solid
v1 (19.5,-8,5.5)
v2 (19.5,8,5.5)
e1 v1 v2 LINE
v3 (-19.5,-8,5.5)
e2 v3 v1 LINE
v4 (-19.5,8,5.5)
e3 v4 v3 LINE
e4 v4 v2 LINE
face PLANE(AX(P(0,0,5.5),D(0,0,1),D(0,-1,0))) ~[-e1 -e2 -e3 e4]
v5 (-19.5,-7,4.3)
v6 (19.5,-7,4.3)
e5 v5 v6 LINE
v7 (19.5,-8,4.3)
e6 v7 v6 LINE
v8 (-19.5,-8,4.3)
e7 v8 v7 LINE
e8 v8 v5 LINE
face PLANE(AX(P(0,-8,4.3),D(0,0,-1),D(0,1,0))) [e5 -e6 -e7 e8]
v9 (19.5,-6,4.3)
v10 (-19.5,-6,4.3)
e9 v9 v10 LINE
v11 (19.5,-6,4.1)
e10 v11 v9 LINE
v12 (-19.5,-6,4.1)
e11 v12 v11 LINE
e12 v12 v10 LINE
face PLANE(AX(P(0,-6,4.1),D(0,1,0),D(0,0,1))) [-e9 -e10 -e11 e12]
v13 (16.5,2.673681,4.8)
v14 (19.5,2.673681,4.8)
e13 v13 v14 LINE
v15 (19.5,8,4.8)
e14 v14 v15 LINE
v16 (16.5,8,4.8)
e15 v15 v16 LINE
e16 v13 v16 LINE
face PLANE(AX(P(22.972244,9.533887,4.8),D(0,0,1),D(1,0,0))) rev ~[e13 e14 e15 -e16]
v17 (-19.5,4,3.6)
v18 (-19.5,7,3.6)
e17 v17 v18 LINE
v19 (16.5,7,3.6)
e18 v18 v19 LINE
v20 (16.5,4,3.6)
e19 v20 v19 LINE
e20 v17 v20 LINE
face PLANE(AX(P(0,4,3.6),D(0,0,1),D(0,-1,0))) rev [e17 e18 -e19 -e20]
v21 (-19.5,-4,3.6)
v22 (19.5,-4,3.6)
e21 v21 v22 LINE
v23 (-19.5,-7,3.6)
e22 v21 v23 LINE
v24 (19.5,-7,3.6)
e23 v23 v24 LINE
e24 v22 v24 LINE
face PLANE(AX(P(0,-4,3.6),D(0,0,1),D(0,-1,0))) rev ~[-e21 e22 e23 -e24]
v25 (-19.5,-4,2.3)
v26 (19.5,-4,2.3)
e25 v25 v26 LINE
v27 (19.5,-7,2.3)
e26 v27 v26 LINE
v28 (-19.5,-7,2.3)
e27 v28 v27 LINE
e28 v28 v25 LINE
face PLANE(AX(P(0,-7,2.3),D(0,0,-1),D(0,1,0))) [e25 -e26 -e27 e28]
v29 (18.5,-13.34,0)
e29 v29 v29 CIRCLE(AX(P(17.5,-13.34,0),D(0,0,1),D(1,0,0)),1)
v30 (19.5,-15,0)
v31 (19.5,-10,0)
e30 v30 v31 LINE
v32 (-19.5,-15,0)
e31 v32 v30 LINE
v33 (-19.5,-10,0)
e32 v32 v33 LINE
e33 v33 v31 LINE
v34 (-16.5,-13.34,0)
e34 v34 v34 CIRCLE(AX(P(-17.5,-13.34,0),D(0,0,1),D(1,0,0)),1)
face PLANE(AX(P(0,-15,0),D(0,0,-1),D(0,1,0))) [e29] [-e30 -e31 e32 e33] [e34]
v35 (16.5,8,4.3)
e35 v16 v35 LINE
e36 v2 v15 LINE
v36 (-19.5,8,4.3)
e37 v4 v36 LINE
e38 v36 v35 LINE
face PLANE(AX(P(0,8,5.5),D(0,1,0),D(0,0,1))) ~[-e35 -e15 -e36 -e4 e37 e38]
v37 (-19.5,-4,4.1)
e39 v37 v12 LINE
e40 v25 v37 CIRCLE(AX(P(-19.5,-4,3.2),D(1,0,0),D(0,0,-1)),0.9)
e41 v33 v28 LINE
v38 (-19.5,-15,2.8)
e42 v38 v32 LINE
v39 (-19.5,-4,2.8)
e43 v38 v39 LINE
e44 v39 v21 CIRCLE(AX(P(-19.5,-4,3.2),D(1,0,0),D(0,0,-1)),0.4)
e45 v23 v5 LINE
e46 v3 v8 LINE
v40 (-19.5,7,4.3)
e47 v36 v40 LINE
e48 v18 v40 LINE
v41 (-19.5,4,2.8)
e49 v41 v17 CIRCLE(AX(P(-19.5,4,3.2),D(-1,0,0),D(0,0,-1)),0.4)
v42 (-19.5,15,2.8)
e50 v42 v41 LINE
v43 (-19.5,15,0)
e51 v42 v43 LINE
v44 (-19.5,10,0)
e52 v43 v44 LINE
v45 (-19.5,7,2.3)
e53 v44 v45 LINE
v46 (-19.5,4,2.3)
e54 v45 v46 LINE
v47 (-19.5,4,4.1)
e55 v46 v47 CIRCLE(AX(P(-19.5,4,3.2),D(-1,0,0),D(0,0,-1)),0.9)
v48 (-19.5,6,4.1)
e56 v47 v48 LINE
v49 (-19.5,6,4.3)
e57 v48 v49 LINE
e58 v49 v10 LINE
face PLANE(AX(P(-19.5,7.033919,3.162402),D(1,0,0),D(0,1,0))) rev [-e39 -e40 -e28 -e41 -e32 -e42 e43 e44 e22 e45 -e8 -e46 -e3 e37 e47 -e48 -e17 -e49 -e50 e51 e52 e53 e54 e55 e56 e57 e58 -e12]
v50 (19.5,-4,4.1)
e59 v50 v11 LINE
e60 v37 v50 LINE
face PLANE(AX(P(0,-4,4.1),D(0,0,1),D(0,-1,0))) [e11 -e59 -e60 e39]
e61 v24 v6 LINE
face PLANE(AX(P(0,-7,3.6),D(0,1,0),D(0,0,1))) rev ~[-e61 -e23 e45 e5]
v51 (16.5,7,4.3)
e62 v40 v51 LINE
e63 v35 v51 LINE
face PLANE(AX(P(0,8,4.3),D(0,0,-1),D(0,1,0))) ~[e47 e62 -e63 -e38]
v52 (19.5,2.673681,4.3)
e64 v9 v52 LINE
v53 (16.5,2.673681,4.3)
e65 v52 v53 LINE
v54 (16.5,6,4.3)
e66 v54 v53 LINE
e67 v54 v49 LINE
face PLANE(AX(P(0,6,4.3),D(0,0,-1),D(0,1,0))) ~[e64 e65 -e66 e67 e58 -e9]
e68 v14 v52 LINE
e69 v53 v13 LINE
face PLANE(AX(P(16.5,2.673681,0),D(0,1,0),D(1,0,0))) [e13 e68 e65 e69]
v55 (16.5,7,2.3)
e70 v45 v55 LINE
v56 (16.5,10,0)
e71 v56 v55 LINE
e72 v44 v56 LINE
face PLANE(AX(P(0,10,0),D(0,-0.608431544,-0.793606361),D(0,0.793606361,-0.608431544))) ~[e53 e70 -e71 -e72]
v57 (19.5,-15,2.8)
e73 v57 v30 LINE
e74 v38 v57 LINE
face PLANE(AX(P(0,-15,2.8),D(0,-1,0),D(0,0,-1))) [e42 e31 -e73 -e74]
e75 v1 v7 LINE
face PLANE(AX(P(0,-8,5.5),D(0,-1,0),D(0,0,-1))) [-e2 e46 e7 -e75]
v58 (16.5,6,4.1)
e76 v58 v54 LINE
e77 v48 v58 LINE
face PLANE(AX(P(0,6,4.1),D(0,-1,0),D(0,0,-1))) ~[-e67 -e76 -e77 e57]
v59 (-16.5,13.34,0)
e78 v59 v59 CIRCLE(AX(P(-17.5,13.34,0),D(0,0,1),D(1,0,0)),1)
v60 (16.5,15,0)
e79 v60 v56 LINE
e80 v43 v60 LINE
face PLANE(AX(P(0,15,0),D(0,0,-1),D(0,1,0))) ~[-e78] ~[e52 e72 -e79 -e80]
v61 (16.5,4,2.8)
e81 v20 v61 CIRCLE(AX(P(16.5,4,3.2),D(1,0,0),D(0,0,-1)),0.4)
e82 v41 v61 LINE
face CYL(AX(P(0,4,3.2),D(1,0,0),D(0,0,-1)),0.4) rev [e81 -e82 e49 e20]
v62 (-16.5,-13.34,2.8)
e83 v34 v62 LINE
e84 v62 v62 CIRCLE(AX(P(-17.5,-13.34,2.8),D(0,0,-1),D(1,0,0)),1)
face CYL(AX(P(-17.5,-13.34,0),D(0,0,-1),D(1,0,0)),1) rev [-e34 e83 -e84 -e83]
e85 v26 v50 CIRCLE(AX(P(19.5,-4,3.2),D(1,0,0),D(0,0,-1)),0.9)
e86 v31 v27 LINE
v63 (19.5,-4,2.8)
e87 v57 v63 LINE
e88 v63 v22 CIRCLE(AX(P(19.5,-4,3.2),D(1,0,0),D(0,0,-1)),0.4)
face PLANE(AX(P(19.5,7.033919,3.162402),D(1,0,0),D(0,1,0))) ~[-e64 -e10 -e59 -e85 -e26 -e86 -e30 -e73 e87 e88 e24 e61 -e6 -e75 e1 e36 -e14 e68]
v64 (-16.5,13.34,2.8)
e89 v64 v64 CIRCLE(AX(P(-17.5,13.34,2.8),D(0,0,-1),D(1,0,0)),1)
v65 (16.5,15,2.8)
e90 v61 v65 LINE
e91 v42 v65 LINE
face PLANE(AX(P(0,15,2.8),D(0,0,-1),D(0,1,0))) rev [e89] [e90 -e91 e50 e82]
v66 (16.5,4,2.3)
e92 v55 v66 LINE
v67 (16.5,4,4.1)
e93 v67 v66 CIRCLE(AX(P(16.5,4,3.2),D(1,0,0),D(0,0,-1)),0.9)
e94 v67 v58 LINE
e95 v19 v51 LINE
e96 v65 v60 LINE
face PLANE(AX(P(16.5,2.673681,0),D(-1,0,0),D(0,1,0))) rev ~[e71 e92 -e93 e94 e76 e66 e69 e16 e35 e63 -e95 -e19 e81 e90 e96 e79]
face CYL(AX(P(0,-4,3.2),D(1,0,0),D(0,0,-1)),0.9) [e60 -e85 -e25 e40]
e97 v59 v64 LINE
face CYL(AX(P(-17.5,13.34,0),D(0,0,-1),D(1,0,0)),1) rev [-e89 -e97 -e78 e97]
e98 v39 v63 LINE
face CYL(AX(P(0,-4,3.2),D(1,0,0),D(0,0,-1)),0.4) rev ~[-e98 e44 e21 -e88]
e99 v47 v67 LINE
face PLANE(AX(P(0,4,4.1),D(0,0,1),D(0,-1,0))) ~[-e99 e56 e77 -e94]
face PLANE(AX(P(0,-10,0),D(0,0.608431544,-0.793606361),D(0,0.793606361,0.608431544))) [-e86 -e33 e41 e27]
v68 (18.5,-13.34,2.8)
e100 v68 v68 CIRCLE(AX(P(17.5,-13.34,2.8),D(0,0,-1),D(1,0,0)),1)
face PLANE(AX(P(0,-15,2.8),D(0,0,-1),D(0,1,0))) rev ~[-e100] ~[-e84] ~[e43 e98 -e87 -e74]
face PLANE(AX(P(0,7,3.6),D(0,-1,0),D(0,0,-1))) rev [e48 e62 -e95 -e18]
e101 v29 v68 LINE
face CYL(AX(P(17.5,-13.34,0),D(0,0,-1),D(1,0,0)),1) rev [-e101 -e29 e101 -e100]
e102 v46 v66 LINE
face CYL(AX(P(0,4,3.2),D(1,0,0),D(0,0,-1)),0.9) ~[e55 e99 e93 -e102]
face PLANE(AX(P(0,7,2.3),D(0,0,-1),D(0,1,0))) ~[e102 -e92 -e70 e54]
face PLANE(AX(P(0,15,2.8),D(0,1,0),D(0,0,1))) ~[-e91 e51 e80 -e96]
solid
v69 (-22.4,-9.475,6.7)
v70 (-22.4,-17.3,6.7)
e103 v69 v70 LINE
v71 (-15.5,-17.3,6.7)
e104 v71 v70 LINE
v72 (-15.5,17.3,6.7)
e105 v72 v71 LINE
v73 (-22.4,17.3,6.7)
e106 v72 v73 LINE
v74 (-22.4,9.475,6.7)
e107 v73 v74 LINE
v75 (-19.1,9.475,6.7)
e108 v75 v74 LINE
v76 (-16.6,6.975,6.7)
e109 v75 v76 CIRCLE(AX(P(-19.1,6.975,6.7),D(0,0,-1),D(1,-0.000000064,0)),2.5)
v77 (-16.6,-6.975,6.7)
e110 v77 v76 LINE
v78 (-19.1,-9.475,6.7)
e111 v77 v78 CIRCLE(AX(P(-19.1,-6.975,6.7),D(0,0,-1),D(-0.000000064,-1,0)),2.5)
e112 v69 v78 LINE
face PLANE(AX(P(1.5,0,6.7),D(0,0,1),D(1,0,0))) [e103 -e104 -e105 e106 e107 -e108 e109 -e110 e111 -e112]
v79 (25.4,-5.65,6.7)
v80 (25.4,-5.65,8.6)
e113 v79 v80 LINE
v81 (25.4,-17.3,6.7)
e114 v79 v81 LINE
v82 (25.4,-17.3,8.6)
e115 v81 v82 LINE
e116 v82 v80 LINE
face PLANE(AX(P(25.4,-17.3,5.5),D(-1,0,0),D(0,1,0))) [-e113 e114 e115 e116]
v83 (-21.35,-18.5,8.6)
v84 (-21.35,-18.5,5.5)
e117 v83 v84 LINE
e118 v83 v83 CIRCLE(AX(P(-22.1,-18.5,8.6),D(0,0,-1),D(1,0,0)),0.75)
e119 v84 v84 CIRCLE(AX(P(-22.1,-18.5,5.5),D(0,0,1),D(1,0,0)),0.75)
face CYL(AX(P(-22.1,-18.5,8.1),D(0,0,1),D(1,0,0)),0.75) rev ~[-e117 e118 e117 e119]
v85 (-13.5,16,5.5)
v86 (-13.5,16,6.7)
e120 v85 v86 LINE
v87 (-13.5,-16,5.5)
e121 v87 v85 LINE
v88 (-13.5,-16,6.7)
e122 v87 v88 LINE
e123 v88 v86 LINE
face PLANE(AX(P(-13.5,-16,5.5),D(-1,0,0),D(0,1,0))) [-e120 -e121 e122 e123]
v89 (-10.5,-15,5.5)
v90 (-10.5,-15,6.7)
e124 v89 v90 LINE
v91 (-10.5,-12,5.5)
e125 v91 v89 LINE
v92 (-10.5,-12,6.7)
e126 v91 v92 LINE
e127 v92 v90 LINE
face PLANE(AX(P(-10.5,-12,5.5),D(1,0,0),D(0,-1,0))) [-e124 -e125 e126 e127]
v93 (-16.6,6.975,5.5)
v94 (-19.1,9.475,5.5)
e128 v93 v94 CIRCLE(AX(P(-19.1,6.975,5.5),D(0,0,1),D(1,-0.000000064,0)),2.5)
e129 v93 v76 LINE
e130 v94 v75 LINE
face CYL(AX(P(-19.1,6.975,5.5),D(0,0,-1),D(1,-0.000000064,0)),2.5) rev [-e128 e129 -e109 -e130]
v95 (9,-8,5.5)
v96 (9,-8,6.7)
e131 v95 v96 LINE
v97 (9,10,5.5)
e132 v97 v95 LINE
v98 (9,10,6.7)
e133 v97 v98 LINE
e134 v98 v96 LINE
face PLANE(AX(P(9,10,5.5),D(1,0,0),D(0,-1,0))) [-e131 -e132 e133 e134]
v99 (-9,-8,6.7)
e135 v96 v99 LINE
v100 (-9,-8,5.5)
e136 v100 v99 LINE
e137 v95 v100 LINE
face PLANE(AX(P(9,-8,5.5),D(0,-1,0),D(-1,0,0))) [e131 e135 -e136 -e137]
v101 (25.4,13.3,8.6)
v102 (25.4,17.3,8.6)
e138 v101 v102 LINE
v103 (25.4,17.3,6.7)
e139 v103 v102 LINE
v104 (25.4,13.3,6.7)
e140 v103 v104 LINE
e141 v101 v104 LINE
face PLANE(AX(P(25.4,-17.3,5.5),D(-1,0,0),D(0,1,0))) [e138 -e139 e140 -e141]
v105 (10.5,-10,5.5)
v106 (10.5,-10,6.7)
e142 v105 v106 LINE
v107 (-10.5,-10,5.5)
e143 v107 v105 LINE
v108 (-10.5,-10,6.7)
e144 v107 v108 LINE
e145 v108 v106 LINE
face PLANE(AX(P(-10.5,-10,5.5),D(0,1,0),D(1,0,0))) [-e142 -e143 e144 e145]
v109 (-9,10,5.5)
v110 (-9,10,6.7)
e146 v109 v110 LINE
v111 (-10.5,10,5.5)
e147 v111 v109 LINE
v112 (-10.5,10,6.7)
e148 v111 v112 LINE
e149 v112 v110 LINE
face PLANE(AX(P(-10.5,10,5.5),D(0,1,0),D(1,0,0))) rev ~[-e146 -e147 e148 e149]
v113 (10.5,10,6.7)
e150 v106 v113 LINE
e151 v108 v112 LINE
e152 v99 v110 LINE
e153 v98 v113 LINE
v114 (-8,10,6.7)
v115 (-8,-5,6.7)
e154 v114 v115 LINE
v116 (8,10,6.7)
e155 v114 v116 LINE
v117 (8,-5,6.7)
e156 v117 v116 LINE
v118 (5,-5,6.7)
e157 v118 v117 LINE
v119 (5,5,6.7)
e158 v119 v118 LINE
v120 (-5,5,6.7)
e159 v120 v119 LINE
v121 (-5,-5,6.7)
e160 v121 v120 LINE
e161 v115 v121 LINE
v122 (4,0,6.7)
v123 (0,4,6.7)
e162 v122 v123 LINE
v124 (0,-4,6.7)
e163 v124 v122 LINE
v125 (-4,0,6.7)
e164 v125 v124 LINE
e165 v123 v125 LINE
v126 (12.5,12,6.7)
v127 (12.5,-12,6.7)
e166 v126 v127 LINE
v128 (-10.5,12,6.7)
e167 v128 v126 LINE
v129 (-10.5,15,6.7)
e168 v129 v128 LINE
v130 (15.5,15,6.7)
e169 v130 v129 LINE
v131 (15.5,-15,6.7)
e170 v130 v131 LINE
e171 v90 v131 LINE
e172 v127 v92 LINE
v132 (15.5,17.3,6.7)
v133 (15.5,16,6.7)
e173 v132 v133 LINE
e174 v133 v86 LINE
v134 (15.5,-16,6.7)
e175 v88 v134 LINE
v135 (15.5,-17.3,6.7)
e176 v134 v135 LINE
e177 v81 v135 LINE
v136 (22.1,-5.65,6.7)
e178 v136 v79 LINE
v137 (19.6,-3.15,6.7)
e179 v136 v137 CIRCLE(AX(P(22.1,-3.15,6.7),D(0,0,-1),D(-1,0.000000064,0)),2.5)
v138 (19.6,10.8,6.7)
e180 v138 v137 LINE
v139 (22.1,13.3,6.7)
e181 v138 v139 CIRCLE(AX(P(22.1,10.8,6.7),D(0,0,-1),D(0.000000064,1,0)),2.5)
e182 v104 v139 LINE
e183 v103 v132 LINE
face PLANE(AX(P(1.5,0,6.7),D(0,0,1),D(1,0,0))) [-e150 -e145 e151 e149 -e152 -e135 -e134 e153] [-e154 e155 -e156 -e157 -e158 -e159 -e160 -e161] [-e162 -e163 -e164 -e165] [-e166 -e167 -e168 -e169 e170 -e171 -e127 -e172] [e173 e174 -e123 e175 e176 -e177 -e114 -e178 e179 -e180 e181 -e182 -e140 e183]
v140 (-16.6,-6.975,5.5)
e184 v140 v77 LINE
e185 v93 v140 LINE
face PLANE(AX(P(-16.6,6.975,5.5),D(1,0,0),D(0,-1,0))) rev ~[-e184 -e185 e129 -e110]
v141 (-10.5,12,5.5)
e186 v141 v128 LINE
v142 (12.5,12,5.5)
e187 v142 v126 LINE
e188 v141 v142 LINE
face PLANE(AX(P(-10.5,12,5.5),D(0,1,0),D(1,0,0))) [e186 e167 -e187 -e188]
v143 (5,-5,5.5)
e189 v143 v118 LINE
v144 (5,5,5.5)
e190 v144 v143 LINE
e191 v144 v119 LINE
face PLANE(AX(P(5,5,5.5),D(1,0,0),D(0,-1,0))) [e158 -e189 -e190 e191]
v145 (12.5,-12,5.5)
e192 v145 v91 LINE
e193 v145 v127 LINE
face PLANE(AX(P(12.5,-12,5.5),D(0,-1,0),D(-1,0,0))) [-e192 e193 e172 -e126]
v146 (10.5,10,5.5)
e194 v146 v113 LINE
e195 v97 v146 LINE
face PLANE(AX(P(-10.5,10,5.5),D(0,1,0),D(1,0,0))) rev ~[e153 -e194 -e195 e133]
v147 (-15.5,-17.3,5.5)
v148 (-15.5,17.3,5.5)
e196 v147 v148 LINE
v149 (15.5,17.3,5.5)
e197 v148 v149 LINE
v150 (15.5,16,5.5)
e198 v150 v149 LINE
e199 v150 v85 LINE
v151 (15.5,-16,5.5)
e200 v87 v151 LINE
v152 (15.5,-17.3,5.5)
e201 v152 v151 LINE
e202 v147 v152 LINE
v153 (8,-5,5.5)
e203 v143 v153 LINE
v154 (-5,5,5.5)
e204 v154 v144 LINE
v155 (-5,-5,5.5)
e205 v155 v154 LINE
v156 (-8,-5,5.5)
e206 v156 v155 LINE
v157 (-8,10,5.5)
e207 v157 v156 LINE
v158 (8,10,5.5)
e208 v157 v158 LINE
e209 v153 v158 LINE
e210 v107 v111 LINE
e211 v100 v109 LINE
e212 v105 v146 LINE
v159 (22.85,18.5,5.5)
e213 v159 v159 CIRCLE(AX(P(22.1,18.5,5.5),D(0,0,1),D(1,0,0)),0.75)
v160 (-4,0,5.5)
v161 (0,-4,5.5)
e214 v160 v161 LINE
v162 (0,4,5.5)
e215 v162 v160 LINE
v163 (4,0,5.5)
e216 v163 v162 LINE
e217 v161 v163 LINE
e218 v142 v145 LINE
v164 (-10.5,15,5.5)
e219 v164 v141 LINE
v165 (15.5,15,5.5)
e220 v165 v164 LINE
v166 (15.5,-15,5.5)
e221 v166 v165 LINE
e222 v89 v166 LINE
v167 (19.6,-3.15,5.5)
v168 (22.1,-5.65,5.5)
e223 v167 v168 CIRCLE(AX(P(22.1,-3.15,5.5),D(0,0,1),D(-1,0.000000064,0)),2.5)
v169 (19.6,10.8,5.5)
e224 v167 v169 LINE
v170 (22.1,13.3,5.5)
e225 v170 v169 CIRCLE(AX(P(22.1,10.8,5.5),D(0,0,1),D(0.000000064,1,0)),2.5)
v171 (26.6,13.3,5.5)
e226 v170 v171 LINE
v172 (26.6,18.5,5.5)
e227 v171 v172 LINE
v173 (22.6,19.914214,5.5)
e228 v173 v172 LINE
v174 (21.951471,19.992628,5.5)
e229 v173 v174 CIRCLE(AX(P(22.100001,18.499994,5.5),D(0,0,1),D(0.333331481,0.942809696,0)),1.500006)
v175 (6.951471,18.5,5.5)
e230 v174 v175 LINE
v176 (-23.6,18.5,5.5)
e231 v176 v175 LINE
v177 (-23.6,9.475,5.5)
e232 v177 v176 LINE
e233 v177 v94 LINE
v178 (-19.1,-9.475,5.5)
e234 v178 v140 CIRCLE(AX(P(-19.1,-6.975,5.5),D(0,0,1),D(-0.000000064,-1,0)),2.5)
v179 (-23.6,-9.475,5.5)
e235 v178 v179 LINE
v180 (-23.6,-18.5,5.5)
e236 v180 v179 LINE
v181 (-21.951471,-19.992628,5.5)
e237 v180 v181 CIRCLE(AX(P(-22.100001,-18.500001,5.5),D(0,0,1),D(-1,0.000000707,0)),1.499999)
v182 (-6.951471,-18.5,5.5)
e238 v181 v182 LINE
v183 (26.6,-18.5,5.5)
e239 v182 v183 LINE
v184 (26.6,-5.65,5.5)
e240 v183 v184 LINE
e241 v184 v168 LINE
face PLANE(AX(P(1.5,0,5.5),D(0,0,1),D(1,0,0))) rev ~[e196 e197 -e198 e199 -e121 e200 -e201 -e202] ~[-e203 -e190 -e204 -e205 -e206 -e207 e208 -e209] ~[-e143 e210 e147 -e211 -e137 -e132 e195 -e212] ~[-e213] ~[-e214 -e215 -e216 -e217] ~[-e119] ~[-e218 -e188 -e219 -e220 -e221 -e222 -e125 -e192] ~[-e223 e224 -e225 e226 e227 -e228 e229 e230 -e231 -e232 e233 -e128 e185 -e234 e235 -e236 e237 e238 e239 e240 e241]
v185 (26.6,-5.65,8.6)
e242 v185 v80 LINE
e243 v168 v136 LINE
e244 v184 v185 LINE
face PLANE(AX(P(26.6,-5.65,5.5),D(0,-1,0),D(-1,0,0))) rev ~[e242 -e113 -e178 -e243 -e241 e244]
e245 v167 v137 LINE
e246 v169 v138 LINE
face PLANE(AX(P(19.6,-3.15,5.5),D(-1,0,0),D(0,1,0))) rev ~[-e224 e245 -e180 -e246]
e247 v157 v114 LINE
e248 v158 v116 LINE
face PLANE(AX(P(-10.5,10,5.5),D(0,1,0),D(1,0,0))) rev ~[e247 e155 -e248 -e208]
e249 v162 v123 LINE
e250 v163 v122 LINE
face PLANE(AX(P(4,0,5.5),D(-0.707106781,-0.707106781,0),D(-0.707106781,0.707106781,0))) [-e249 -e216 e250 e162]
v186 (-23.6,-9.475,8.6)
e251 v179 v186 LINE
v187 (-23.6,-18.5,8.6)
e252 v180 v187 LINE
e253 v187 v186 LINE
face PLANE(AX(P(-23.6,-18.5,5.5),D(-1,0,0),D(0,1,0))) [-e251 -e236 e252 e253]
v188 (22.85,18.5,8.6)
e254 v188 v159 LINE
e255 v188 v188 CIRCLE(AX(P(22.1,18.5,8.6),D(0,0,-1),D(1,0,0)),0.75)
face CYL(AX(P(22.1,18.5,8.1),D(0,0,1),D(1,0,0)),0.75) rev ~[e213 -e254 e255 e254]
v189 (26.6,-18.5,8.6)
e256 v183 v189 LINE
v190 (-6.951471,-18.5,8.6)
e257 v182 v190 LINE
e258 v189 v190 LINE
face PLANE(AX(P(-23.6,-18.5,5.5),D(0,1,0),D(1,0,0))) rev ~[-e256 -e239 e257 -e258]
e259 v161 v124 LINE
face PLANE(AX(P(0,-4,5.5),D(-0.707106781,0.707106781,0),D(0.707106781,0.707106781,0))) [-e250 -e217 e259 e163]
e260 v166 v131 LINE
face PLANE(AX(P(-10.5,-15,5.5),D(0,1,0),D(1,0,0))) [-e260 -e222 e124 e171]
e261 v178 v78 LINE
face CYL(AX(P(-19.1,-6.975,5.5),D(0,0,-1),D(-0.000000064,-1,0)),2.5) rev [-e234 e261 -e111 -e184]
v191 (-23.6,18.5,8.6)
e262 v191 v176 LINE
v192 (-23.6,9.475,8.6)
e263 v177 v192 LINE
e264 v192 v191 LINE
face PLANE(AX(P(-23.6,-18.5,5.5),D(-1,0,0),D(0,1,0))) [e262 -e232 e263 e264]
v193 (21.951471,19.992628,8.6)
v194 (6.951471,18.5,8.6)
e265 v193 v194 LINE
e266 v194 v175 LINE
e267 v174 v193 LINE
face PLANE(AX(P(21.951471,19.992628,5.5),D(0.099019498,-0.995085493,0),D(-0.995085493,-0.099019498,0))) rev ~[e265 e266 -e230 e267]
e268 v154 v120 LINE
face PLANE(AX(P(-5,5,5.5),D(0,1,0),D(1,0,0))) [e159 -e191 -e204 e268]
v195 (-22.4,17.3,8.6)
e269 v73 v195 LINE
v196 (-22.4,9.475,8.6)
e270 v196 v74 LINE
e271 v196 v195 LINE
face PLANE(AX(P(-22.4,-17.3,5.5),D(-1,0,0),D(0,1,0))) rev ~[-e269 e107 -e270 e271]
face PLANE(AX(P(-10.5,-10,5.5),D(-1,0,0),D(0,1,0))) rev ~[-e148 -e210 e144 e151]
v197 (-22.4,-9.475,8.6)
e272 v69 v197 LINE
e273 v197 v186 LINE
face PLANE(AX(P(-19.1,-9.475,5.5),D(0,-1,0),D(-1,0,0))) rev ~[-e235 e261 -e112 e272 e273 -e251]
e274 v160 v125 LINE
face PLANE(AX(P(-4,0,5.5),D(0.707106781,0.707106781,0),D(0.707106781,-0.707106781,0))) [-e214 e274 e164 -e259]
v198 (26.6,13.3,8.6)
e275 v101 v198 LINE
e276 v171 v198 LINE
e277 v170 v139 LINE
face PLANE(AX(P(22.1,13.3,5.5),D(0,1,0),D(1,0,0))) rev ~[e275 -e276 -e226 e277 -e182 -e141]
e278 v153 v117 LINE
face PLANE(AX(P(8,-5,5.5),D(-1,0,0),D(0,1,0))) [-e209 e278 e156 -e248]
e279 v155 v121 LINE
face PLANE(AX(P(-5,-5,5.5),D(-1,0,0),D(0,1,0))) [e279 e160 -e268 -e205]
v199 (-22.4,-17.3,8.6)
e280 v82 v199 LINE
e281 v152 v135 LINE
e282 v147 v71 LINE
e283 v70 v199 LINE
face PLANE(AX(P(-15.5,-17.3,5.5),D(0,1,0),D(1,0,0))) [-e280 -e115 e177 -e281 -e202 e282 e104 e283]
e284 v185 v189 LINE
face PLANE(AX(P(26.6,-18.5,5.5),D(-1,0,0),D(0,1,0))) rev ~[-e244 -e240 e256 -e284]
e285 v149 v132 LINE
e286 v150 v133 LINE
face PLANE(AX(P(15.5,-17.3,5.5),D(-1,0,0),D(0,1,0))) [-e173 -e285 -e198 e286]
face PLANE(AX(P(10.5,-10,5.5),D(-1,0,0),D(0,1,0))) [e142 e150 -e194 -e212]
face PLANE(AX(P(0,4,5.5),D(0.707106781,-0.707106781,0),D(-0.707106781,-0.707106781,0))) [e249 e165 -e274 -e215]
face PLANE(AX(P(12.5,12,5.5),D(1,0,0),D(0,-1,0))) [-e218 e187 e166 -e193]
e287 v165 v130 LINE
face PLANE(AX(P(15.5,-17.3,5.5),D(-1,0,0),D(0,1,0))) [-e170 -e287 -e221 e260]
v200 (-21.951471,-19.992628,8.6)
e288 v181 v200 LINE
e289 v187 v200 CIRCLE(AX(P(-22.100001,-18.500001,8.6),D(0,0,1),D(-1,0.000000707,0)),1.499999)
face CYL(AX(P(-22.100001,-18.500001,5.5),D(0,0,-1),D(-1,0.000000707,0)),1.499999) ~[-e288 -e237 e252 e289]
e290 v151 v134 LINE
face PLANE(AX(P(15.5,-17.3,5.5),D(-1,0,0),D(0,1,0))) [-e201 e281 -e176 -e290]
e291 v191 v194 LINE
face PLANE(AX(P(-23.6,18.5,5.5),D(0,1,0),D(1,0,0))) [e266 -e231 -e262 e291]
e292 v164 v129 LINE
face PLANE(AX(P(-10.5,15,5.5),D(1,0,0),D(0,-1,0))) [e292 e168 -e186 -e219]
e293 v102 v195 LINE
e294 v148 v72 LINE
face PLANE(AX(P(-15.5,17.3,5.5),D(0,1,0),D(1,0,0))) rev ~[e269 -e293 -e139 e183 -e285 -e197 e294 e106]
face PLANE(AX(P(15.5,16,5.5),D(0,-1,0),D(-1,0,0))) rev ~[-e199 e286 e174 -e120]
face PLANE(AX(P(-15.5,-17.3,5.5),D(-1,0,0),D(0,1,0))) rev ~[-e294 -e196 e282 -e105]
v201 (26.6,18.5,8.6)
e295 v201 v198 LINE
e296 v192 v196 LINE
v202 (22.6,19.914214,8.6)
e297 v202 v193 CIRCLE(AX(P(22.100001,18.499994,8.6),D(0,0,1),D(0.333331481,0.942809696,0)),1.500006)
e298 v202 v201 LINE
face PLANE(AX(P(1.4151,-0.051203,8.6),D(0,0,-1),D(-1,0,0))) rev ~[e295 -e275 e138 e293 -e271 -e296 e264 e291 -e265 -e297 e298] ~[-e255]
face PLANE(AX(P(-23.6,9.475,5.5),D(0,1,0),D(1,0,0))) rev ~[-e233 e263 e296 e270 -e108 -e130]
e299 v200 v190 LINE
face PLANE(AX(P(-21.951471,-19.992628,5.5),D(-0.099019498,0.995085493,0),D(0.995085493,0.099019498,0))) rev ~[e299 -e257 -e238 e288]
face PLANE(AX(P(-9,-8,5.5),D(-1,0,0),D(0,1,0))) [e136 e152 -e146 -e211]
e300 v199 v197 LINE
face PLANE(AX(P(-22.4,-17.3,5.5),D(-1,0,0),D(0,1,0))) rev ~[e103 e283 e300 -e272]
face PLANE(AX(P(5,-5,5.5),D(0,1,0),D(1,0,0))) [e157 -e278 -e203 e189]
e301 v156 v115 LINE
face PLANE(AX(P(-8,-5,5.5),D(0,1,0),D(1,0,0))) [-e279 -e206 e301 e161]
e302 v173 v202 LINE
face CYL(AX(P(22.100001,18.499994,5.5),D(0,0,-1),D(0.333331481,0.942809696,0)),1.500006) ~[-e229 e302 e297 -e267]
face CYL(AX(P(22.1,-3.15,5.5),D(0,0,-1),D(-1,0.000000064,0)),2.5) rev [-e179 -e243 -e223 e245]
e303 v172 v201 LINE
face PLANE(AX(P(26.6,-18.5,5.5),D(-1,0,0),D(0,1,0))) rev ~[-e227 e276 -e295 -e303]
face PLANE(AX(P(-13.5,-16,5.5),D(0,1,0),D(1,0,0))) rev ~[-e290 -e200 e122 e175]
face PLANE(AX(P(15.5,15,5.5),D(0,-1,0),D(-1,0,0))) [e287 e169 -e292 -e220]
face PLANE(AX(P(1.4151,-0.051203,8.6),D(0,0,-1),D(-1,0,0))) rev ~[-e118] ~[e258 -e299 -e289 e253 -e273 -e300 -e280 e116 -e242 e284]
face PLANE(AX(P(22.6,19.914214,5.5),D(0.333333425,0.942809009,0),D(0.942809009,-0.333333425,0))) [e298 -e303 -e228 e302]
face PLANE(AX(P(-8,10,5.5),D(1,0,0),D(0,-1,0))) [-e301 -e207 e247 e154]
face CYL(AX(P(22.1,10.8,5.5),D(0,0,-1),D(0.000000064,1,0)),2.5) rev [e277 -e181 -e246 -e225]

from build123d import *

# Parameters (mm, degrees)
SKETCH007_W       = 50.2
SKETCH007_H       = 37
PAD005_DEPTH      = 1.2
SKETCH008_W       = 47.8
SKETCH008_H       = 34.6
PAD006_DEPTH      = 3.1
POCKET001_DEPTH   = 3.101
SKETCH005_W       = 31
SKETCH005_H       = 34.6
POCKET002_DEPTH   = 5
SKETCH023_W       = 21
SKETCH023_H       = 20
PAD_DEPTH         = 1.2
PAD015_DEPTH      = 1.2
SKETCH013_R       = 0.75
POCKET_DEPTH      = 2.601
POCKET_DEPTH_BACK = 0.501
PAD016_DEPTH      = 19.5
SKETCH_R          = 1
POCKET003_DEPTH   = 5
SKETCH022_W       = 12.944488
SKETCH022_H       = 13.720411
POCKET004_DEPTH   = 4.8


with BuildPart() as plastic_tek1_display_interface_top_part:
    # Sketch007 (on DatumPlane) → Pad005 (new body)
    with BuildSketch(Plane.XY.offset(5.5)):
        with Locations((1.5, 0)):
            Rectangle(SKETCH007_W, SKETCH007_H)
    extrude(amount=PAD005_DEPTH)

    # Sketch008 (on DatumPlane) → Pad006 (join)
    with BuildSketch(Plane.XY.offset(5.5)):
        with BuildLine():
            Line((-23.6, -18.5), (-23.6, 18.5))
            Line((-23.6, 18.5), (6.951471, 18.5))
            Line((21.951471, 19.992628), (6.951471, 18.5))
            ThreePointArc((22.6, 19.914214), (22.280056, 19.989154), (21.951471, 19.992628))
            Line((22.6, 19.914214), (26.6, 18.5))
            Line((26.6, 18.5), (26.6, -18.5))
            Line((26.6, -18.5), (-6.951471, -18.5))
            Line((-21.951471, -19.992628), (-6.951471, -18.5))
            ThreePointArc((-23.6, -18.5), (-23.106779, -19.611934), (-21.951471, -19.992628))
        make_face()
        with Locations((1.5, 0)):
            Rectangle(SKETCH008_W, SKETCH008_H, mode=Mode.SUBTRACT)
    extrude(amount=PAD006_DEPTH)

    # Sketch009 (on DatumPlane) → Pocket001 (cut, through all)
    with BuildSketch(Plane.XY.offset(5.5)):
        with BuildLine():
            Line((19.6, -3.15), (19.6, 10.8))
            ThreePointArc((22.1, 13.3), (20.332233, 12.567767), (19.6, 10.8))
            Line((22.1, 13.3), (26.6, 13.3))
            Line((26.6, 13.3), (26.6, -5.65))
            Line((26.6, -5.65), (22.1, -5.65))
            ThreePointArc((19.6, -3.15), (20.332233, -4.917767), (22.1, -5.65))
        make_face()
        with BuildLine():
            Line((-23.6, 9.475), (-19.1, 9.475))
            ThreePointArc((-16.6, 6.975), (-17.332233, 8.742767), (-19.1, 9.475))
            Line((-16.6, 6.975), (-16.6, -6.975))
            ThreePointArc((-19.1, -9.475), (-17.332233, -8.742767), (-16.6, -6.975))
            Line((-19.1, -9.475), (-23.6, -9.475))
            Line((-23.6, -9.475), (-23.6, 9.475))
        make_face()
    extrude(amount=POCKET001_DEPTH, mode=Mode.SUBTRACT)

    # Sketch005 (on DatumPlane) → Pocket002 (cut)
    with BuildSketch(Plane.XY.offset(5.5)):
        Rectangle(SKETCH005_W, SKETCH005_H)
    extrude(amount=POCKET002_DEPTH, mode=Mode.SUBTRACT)

    # Sketch023 (on DatumPlane) → Pad (join)
    with BuildSketch(Plane.XY.offset(5.5)):
        Polygon((-13.5, -16), (-13.5, 16), (-10.5, 16), (15.5, 16), (15.5, 15), (-10.5, 15), (-10.5, 12), (12.5, 12), (12.5, -12), (-10.5, -12), (-10.5, -15), (15.5, -15), (15.5, -16), (-10.5, -16), align=None)
        Rectangle(SKETCH023_W, SKETCH023_H, mode=Mode.SUBTRACT)
    extrude(amount=PAD_DEPTH)

    # Sketch020 (on DatumPlane) → Pad015 (join)
    with BuildSketch(Plane.XY.offset(5.5)):
        Polygon((-5, -5), (-5, 5), (5, 5), (5, -5), (8, -5), (8, 10), (9, 10), (9, -8), (-9, -8), (-9, 10), (-8, 10), (-8, -5), align=None)
        Polygon((4, 0), (0, 4), (-4, 0), (0, -4), align=None, mode=Mode.SUBTRACT)
    extrude(amount=PAD015_DEPTH)

    # Sketch013 (on DatumPlane) → Pocket (cut, two sides)
    with BuildSketch(Plane.XY.offset(8.1)) as pocket_sk:
        with Locations((22.1, 18.5)):
            Circle(SKETCH013_R)
        with Locations((-22.1, -18.5)):
            Circle(SKETCH013_R)
    extrude(amount=-POCKET_DEPTH, mode=Mode.SUBTRACT)
    extrude(pocket_sk.sketch, amount=POCKET_DEPTH_BACK, mode=Mode.SUBTRACT)


with BuildPart() as body002:
    # Sketch021 → Pad016 (new body, symmetric)
    with BuildSketch(Plane.YZ):
        with BuildLine():
            Line((0, 5.5), (-8, 5.5))
            Line((-8, 5.5), (-8, 4.3))
            Line((-8, 4.3), (-7, 4.3))
            Line((-7, 3.6), (-7, 4.3))
            Line((-4, 3.6), (-7, 3.6))
            ThreePointArc((-4, 2.8), (-3.6, 3.2), (-4, 3.6))
            Line((-10, 2.8), (-4, 2.8))
            Line((-15, 2.8), (-10, 2.8))
            Line((-15, 2.8), (-15, 0))
            Line((-15, 0), (-10, 0))
            Line((-10, 0), (-7, 2.3))
            Line((-7, 2.3), (-4, 2.3))
            ThreePointArc((-4, 2.3), (-3.1, 3.2), (-4, 4.1))
            Line((-4, 4.1), (-6, 4.1))
            Line((-6, 4.1), (-6, 4.3))
            Line((-5.65359, 4.3), (-6, 4.3))
            Line((-5.65359, 4.3), (0, 4.3))
            Line((0, 4.3), (0, 5.5))
        make_face()
    pad016 = extrude(amount=PAD016_DEPTH, both=True)

    # Mirrored003: Pad016 across Sketch021 V_Axis
    add(pad016.mirror(Plane(origin=(0, 0, 0), x_dir=(1, 0, 0), z_dir=(0, 1, 0))))

    # Sketch → Pocket003 (cut)
    with BuildSketch(Plane.XY):
        with Locations((-17.5, 13.34)):
            Circle(SKETCH_R)
        with Locations((-17.5, -13.34)):
            Circle(SKETCH_R)
        with Locations((17.5, 13.34)):
            Circle(SKETCH_R)
        with Locations((17.5, -13.34)):
            Circle(SKETCH_R)
    extrude(amount=POCKET003_DEPTH, mode=Mode.SUBTRACT)

    # Sketch022 → Pocket004 (cut)
    with BuildSketch(Plane.XY):
        with Locations((22.972244, 9.533887)):
            Rectangle(SKETCH022_W, SKETCH022_H)
    extrude(amount=POCKET004_DEPTH, mode=Mode.SUBTRACT)


solid = Compound([plastic_tek1_display_interface_top_part.part, body002.part])
